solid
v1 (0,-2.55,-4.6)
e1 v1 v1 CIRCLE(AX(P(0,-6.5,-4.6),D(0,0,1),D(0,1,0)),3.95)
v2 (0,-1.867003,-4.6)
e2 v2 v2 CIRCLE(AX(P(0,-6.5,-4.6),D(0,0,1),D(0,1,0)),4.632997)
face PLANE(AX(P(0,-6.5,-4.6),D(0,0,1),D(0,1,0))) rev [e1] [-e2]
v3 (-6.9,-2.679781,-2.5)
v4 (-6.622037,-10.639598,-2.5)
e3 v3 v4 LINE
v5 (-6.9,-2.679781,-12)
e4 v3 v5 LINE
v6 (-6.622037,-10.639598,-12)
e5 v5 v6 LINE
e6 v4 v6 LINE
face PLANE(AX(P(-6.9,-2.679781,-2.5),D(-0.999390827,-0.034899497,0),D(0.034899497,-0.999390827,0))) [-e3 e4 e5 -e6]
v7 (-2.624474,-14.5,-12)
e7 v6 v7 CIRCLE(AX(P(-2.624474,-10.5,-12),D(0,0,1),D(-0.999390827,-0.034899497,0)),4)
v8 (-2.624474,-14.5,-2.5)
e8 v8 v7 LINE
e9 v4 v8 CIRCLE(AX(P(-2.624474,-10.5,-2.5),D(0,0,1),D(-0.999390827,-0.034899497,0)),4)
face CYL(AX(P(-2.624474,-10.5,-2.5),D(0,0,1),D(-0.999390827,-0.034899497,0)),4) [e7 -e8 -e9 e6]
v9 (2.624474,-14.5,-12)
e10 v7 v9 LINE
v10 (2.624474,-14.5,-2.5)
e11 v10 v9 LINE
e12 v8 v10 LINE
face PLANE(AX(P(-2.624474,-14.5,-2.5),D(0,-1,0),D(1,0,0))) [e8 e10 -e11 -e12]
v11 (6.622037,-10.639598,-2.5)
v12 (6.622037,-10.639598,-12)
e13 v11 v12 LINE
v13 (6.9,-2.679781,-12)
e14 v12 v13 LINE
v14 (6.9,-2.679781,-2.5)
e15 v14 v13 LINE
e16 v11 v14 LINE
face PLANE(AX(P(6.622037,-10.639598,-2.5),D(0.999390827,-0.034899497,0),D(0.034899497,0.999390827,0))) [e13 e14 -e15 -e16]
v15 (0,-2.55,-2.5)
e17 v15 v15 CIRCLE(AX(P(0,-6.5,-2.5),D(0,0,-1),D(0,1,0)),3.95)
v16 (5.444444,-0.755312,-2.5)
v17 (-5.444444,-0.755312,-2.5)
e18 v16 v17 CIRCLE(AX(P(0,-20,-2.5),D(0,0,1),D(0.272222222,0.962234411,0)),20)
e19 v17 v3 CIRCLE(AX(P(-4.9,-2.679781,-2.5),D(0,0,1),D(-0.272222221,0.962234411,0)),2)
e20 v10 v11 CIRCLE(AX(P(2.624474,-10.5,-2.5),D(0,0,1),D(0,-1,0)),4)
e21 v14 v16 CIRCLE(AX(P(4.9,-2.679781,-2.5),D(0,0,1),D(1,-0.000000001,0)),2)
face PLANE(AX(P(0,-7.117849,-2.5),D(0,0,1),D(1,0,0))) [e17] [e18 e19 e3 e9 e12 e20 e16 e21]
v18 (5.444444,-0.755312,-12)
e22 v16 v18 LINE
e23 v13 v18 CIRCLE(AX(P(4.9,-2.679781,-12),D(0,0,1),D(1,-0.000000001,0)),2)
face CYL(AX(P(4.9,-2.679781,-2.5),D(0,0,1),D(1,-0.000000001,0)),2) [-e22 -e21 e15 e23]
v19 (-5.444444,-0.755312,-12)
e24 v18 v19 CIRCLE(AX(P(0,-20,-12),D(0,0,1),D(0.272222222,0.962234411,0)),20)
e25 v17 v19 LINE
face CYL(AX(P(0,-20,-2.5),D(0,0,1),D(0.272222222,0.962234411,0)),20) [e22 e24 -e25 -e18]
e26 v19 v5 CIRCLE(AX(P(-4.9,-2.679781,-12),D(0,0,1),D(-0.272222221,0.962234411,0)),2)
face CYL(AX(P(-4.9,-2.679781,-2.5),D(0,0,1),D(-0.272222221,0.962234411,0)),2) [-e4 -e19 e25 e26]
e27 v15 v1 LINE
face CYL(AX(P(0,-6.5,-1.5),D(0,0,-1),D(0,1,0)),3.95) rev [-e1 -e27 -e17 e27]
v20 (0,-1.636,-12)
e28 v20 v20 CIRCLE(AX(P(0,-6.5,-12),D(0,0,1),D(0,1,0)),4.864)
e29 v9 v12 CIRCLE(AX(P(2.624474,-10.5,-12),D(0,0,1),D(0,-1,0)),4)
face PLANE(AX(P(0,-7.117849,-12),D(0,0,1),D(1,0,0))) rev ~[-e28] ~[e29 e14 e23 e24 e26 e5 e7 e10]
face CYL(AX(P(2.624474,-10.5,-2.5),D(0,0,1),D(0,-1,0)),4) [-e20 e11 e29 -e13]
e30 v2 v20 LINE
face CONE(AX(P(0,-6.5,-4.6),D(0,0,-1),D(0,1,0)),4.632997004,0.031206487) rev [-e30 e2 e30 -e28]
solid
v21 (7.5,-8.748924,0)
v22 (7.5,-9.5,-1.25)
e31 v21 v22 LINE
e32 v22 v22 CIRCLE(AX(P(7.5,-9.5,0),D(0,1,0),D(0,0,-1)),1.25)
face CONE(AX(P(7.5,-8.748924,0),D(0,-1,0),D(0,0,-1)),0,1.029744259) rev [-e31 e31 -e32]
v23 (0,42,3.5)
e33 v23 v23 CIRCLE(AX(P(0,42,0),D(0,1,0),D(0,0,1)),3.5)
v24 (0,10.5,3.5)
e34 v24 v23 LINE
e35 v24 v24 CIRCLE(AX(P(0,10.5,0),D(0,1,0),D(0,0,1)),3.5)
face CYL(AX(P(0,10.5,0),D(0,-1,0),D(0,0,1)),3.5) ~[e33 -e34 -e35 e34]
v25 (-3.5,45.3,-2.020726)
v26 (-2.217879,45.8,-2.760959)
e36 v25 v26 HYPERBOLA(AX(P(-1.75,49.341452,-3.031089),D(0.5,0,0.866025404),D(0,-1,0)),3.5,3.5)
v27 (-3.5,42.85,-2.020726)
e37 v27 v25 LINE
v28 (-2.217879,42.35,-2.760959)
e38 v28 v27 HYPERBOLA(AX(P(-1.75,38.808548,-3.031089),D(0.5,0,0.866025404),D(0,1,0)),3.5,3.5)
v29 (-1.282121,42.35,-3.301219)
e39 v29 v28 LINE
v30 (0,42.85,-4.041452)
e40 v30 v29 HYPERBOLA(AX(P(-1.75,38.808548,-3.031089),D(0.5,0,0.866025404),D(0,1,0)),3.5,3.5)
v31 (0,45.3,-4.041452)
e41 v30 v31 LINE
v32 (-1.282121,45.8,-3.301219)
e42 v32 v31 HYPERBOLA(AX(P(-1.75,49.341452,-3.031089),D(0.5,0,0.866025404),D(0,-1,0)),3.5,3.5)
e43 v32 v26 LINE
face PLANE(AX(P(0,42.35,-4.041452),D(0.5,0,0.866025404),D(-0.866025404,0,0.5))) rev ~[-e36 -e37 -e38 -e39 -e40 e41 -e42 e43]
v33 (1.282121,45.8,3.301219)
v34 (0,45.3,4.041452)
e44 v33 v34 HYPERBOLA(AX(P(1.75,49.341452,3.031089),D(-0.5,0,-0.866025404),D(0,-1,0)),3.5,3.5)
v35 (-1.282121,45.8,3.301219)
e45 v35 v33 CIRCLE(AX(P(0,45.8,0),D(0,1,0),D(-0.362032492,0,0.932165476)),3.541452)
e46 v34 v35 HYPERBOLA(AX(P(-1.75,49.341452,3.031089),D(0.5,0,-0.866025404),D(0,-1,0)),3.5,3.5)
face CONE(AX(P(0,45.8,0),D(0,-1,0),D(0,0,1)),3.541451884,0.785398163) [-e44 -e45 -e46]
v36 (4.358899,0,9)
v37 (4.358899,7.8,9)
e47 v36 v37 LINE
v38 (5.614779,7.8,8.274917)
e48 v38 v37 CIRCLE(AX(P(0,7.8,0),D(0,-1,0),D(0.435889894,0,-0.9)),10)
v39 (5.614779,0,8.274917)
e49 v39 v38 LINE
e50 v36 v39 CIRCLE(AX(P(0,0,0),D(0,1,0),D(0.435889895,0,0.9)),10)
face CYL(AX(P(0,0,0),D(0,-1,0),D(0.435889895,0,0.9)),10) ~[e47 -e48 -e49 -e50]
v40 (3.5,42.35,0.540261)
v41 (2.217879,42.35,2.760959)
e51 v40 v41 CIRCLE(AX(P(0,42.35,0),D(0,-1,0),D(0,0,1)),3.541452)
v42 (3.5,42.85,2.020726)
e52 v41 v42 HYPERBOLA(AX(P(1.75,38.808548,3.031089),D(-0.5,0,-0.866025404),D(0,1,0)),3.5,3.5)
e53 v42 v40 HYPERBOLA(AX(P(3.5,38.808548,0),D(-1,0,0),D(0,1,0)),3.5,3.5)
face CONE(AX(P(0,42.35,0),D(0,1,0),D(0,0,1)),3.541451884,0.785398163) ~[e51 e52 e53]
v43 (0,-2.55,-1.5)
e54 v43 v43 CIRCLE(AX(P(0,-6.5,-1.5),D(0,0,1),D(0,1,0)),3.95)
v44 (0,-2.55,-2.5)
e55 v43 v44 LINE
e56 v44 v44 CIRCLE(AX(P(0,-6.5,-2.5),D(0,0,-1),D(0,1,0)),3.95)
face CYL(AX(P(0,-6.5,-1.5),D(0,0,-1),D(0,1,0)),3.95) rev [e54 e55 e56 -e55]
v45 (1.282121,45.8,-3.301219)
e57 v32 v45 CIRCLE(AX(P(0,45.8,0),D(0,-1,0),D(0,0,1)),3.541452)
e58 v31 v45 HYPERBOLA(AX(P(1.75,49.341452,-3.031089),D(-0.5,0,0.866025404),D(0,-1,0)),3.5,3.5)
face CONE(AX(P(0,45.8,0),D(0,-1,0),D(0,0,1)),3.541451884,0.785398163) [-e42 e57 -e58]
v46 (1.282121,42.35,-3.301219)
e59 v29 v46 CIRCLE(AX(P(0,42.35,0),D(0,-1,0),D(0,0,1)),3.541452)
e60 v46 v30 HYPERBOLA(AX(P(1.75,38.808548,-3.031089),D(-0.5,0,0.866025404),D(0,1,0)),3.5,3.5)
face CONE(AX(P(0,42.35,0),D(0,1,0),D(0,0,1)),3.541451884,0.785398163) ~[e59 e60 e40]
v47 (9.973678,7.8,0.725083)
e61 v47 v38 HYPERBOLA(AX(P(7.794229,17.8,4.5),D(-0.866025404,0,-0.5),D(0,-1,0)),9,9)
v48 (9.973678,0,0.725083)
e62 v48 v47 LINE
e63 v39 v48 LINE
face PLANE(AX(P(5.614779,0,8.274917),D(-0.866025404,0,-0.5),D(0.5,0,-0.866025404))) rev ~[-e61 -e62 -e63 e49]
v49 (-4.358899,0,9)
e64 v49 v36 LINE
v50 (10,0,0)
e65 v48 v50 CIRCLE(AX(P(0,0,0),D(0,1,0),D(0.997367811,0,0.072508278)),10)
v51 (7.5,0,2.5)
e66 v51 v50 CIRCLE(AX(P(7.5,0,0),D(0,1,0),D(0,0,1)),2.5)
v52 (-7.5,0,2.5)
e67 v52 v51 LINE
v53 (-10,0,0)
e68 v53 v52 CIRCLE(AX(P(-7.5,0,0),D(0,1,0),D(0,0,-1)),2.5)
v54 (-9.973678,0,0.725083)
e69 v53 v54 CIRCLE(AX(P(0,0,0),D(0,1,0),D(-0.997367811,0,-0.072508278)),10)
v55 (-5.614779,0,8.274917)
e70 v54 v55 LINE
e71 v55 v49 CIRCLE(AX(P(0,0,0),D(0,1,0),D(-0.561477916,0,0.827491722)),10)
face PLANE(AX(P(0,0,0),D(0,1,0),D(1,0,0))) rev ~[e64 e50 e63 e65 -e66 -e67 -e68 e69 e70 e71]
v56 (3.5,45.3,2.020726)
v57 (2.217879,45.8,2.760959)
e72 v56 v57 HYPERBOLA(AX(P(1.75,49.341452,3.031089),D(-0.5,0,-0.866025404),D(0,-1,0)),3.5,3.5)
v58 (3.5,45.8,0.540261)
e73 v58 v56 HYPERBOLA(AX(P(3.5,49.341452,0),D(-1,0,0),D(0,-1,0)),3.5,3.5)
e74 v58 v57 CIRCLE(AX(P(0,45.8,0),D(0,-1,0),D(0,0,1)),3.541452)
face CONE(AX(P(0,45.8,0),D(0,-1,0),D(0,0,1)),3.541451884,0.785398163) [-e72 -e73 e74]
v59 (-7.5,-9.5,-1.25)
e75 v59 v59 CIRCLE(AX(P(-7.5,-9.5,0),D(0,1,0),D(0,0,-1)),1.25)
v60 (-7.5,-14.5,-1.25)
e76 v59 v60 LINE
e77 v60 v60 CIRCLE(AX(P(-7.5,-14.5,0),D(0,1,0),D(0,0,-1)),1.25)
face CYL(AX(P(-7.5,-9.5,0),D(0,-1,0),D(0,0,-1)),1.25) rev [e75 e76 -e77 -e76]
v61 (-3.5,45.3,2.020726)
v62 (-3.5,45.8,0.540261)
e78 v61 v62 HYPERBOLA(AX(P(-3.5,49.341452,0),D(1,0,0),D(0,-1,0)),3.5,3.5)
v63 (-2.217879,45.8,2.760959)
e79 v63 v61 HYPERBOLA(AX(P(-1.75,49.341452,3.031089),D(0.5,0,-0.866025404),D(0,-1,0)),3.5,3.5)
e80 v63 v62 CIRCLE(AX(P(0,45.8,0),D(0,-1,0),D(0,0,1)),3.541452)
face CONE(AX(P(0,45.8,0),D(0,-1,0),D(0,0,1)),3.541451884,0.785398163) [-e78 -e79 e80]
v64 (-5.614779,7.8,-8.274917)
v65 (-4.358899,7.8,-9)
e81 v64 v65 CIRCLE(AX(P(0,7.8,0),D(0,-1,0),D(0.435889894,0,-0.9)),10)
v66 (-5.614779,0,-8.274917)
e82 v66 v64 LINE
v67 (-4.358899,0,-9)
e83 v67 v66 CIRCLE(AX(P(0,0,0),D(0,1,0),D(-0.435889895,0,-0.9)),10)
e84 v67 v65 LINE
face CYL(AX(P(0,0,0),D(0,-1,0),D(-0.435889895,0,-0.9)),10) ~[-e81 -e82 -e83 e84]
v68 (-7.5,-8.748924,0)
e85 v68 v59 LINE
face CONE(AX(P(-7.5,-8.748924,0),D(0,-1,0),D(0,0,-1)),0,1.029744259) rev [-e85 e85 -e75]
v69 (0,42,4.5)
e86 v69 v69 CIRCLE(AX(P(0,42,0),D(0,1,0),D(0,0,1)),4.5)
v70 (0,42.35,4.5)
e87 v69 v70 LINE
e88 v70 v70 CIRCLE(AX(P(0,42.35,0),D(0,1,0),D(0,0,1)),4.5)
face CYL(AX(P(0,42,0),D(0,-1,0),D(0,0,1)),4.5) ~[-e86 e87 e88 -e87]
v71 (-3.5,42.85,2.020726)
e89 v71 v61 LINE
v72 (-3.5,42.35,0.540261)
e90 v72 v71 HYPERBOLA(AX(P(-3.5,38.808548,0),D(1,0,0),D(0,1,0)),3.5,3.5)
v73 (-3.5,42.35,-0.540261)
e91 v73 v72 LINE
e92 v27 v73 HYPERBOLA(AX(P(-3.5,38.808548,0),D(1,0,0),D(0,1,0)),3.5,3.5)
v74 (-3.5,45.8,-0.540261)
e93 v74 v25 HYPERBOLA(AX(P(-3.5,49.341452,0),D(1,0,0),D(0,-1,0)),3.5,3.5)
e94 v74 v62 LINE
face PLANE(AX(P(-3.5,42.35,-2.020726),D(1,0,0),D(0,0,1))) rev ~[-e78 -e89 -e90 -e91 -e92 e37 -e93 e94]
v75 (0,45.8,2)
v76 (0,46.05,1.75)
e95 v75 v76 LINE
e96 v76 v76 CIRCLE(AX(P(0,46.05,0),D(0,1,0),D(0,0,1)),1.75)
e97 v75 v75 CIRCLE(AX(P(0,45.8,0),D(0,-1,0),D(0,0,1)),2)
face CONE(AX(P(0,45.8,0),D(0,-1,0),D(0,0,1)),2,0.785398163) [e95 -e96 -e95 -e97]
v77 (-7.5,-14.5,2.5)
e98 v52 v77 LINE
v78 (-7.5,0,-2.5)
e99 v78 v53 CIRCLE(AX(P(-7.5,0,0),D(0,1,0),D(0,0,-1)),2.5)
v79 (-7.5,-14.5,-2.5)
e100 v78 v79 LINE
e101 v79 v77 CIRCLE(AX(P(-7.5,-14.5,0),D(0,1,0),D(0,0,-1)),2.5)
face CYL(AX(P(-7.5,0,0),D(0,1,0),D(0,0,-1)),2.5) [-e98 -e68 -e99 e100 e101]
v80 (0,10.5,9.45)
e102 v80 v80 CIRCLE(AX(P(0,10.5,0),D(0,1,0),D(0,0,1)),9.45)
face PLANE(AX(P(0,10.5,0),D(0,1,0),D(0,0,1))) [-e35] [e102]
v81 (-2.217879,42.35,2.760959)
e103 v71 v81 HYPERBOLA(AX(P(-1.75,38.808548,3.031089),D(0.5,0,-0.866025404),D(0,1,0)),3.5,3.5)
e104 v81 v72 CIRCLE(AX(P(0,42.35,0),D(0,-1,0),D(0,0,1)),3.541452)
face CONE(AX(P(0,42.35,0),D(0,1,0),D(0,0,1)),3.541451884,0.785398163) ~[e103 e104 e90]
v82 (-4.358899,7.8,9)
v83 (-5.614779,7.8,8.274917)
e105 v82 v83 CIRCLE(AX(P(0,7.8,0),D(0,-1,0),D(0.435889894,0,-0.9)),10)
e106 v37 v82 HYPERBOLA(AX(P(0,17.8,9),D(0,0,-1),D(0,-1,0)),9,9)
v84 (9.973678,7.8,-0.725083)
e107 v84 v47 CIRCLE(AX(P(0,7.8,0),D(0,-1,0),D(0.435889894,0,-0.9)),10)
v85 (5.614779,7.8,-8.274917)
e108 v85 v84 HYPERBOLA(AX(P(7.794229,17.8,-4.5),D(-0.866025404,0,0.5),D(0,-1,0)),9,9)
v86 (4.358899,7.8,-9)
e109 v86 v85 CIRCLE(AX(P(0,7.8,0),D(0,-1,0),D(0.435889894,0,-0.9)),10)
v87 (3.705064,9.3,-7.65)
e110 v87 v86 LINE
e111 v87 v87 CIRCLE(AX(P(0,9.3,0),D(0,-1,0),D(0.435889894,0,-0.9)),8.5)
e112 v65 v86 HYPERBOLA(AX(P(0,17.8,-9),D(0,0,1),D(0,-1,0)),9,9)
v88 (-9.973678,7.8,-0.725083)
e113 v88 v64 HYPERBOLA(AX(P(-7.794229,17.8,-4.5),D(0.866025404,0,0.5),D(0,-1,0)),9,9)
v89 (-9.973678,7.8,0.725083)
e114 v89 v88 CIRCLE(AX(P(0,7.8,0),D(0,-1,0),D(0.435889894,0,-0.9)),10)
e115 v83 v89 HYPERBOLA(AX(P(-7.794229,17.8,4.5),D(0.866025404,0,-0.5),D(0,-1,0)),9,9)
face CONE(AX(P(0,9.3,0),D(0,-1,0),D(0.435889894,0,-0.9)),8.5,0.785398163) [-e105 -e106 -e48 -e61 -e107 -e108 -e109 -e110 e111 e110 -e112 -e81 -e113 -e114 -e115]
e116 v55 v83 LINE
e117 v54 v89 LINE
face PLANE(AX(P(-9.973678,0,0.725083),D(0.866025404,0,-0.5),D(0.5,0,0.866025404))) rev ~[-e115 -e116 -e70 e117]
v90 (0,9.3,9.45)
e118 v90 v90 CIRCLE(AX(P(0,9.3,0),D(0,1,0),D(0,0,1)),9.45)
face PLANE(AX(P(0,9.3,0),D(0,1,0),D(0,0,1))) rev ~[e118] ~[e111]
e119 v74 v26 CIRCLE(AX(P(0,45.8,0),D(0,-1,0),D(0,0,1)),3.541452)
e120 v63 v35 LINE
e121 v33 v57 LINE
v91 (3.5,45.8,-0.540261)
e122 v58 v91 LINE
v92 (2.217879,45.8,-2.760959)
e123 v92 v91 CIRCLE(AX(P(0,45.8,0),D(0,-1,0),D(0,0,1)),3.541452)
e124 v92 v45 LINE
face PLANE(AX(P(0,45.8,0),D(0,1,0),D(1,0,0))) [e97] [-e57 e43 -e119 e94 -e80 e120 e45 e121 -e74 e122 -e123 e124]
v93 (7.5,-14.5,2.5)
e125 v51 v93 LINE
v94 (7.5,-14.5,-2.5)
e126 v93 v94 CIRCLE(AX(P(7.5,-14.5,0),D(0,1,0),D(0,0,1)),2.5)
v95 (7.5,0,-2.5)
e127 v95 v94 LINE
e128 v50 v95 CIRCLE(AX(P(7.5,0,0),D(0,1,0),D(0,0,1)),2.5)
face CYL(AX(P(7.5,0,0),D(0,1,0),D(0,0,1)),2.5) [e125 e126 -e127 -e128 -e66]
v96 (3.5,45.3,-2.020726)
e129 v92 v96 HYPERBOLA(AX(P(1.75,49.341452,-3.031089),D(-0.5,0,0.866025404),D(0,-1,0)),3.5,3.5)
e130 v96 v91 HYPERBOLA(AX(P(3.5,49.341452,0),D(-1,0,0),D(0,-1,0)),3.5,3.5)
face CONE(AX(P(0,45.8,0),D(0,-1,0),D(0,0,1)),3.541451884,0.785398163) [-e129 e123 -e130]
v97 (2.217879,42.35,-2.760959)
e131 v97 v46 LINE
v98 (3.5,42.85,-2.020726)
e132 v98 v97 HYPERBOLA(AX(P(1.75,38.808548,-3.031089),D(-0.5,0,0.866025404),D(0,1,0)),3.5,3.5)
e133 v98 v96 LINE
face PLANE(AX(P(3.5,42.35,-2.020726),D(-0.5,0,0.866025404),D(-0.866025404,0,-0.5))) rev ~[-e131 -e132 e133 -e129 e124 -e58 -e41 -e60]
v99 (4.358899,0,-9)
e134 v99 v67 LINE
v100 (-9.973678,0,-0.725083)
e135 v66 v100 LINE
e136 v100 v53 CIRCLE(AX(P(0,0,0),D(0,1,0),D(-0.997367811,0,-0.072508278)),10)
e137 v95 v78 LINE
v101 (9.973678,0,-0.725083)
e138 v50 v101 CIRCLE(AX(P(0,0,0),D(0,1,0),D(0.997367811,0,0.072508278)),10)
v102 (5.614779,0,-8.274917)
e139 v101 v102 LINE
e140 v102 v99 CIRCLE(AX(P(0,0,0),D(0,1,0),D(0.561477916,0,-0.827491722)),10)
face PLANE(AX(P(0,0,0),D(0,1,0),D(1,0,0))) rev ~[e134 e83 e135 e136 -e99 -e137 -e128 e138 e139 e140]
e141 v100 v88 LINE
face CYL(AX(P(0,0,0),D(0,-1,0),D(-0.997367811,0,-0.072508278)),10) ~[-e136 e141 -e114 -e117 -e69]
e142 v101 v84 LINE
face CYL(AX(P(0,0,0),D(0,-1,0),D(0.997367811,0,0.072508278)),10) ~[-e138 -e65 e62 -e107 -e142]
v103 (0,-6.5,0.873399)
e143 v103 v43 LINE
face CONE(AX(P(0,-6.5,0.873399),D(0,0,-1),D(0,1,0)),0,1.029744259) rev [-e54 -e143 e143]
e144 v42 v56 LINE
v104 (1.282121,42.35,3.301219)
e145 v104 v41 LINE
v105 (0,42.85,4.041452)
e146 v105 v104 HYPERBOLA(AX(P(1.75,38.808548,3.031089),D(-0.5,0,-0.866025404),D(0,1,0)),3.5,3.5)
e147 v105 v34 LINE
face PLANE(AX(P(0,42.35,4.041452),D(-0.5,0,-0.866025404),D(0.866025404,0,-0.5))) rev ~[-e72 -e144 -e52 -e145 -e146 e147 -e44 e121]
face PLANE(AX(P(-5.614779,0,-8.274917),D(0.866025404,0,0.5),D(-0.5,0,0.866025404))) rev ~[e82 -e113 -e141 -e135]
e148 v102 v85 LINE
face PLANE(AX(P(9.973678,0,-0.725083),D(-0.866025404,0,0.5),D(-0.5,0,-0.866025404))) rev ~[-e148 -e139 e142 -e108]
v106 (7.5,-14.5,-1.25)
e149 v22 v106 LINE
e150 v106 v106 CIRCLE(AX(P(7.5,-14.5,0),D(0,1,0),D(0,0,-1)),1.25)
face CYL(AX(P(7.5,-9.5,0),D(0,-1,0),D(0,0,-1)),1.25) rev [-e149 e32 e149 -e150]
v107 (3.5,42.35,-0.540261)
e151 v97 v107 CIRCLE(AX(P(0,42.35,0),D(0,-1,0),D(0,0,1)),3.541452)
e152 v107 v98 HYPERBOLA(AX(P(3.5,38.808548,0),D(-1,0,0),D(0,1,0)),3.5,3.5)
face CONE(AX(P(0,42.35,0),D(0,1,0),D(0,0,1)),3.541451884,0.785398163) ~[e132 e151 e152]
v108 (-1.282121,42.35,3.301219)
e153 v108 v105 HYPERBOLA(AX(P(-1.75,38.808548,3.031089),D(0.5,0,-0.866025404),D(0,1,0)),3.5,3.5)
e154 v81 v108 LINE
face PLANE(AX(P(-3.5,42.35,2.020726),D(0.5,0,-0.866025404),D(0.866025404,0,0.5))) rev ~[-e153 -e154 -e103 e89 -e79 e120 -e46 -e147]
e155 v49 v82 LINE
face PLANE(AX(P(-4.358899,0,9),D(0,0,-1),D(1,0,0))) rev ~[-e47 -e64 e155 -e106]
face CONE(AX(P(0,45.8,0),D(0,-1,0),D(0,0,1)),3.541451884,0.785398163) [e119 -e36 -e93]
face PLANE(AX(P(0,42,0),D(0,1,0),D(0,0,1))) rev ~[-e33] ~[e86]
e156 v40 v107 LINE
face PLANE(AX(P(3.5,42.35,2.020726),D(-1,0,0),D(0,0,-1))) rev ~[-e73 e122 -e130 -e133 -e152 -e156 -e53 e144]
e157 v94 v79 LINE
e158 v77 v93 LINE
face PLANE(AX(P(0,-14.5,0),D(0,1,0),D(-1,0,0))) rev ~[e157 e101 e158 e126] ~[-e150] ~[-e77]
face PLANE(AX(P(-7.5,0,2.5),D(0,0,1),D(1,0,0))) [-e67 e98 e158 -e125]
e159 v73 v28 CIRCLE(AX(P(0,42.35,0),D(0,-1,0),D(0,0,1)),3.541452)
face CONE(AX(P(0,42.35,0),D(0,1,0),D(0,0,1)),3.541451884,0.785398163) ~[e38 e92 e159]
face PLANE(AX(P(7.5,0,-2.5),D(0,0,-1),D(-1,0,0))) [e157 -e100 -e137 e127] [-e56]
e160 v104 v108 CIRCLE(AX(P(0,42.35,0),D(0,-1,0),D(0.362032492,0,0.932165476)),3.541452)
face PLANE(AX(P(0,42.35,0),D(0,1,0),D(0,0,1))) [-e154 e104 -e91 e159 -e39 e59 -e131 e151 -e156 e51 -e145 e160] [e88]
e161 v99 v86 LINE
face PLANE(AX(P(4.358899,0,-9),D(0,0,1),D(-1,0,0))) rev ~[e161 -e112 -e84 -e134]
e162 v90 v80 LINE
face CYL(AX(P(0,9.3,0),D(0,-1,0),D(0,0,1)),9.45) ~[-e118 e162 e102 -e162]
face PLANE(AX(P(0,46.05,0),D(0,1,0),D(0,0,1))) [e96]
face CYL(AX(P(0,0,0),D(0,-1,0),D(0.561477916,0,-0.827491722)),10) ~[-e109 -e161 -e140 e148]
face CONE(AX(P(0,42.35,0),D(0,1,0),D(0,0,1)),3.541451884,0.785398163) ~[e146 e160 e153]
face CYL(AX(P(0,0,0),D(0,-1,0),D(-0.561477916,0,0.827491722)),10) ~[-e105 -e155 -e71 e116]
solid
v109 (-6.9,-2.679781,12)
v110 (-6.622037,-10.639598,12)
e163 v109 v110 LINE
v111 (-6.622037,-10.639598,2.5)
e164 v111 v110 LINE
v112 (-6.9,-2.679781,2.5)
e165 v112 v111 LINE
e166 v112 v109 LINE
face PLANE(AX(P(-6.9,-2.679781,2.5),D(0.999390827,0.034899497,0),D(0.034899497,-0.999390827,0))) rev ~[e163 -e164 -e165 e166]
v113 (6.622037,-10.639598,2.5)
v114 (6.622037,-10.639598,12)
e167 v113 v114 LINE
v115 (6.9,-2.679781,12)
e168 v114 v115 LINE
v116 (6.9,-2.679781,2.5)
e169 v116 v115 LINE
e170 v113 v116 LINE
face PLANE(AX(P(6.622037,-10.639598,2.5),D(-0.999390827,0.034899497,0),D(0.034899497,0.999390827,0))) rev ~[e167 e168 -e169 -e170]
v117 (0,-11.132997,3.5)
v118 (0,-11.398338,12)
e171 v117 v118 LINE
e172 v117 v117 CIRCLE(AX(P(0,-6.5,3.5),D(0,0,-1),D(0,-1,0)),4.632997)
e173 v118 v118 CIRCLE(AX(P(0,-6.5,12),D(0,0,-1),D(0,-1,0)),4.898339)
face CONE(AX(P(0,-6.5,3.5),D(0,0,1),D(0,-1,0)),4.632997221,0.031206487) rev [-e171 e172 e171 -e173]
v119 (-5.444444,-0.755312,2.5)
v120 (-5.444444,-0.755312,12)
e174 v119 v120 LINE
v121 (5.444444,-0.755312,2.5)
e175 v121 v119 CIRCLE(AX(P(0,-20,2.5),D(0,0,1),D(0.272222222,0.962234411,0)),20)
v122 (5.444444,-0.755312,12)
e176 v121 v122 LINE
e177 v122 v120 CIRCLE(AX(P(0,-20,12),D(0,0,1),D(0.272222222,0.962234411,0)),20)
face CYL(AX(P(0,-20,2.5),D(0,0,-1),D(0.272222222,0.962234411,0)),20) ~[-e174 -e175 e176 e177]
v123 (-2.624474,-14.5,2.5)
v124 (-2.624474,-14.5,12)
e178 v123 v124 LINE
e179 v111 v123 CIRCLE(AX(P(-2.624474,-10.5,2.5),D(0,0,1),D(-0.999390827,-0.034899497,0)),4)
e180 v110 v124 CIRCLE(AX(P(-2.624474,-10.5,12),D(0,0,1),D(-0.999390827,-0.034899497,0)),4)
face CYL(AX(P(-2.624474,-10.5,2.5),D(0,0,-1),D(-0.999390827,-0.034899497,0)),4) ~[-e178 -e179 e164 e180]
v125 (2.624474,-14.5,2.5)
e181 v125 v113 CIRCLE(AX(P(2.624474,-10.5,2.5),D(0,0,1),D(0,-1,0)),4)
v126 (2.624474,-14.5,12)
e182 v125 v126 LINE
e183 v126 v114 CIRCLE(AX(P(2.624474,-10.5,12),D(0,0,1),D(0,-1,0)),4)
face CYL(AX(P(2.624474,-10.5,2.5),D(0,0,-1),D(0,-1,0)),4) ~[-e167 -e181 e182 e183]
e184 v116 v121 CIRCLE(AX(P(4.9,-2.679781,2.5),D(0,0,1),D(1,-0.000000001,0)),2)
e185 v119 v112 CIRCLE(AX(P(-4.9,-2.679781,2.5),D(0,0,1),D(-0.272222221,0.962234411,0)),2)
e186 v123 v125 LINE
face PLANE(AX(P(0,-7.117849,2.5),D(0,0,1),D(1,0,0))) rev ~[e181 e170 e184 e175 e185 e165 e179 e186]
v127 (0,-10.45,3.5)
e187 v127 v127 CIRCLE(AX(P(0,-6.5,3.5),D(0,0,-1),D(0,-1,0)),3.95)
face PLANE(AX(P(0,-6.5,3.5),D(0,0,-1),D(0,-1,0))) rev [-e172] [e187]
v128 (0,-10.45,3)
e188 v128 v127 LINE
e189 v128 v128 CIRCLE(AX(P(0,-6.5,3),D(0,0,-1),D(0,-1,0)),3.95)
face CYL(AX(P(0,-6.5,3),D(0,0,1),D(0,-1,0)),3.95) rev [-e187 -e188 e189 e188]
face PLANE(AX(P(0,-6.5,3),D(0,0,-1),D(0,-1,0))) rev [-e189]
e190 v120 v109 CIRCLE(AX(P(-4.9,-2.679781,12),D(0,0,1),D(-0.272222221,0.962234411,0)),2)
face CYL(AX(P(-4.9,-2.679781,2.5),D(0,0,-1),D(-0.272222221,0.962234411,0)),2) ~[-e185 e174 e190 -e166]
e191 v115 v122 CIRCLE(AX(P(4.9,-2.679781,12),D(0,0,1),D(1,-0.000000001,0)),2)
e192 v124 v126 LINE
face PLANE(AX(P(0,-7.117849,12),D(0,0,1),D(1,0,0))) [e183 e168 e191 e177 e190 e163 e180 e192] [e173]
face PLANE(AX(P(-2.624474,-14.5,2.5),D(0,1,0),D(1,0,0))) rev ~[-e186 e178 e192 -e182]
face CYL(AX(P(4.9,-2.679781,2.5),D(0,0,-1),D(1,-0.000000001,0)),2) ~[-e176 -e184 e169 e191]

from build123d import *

# Parameters (mm, degrees)
BASE_NUT_EXTRUDE_DEPTH       = 9.3
SKETCH3_R                    = 9.45
COIL_BASE_DEPTH              = 1.2
SKETCH4_R                    = 3.5
INNER_CYLINDER_DEPTH         = 31.5
SKETCH5_R                    = 4.5
WASHER_DEPTH                 = 0.35
SKETCH6_R                    = 2
MOUNTING_THREAD_DEPTH        = 3.7
THREAD_CHAMFER_SIZE          = 0.25
PORT_BASE_DEPTH              = 14.5
IN_PORT_BODY_DEPTH           = 9.5
OUT_PORT_BODY_DEPTH          = 9.5
M3_MOUNTING_HOLES_AT_2_COUNT = 2
M3_MOUNTING_HOLES_AT_2_PITCH = 15
SKETCH21_R                   = 2
HEX_NUT_DEPTH                = 3.45


with BuildPart() as part:
    # Sketch1 → Base Nut Extrude (new body)
    with BuildSketch(Plane(origin=(0, 0, 0), x_dir=(1, 0, 0), z_dir=(0, 1, 0))):
        with BuildLine():
            Line((-9.973678106, -0.725082782), (-5.614779162, -8.274917218))
            ThreePointArc((-5.614779162, -8.274917218), (-5, -8.660254038), (-4.358898944, -9))
            Line((-4.358898944, -9), (4.358898944, -9))
            ThreePointArc((4.358898944, -9), (5, -8.660254038), (5.614779162, -8.274917218))
            Line((5.614779162, -8.274917218), (9.973678106, -0.725082782))
            ThreePointArc((9.973678106, -0.725082782), (10, 0), (9.973678106, 0.725082782))
            Line((9.973678106, 0.725082782), (5.614779162, 8.274917218))
            ThreePointArc((5.614779162, 8.274917218), (5, 8.660254038), (4.358898944, 9))
            Line((4.358898944, 9), (-4.358898944, 9))
            ThreePointArc((-4.358898944, 9), (-5, 8.660254038), (-5.614779162, 8.274917218))
            Line((-5.614779162, 8.274917218), (-9.973678106, 0.725082782))
            ThreePointArc((-9.973678106, 0.725082782), (-10, 0), (-9.973678106, -0.725082782))
        make_face()
    extrude(amount=BASE_NUT_EXTRUDE_DEPTH)

    # Sketch2 → Nut Detail (revolve, cut)
    with BuildSketch(Plane.XY, mode=Mode.PRIVATE) as nut_detail_sk:
        Polygon((-9.973678106, 9.3), (-8.5, 9.3), (-10, 7.8), (-10, 9.3), align=None)
    revolve(nut_detail_sk.sketch.rotate(Axis((0, 49.0775, 0), (0, -1, 0)), 115.841932763), axis=Axis((0, 49.0775, 0), (0, -1, 0)), mode=Mode.SUBTRACT)

    # Sketch3 → Coil Base (add)
    with BuildSketch(Plane(origin=(0, 9.3, 0), x_dir=(1, 0, 0), z_dir=(0, 1, 0))):
        with Locations(Location((0, 0, 0), (0, 0, 270))):
            Circle(SKETCH3_R)
    extrude(amount=COIL_BASE_DEPTH)

    # Sketch4 → Inner Cylinder (add)
    with BuildSketch(Plane(origin=(0, 10.5, 0), x_dir=(1, 0, 0), z_dir=(0, 1, 0))):
        with Locations(Location((0, 0, 0), (0, 0, 270))):
            Circle(SKETCH4_R)
    extrude(amount=INNER_CYLINDER_DEPTH)

    # Sketch5 → Washer (add)
    with BuildSketch(Plane(origin=(0, 42, 0), x_dir=(1, 0, 0), z_dir=(0, 1, 0))):
        with Locations(Location((0, 0, 0), (0, 0, 270))):
            Circle(SKETCH5_R)
    extrude(amount=WASHER_DEPTH)

    # Sketch6 → Mounting Thread (add)
    with BuildSketch(Plane(origin=(0, 42.35, 0), x_dir=(1, 0, 0), z_dir=(0, 1, 0))):
        with Locations(Location((0, 0, 0), (0, 0, 270))):
            Circle(SKETCH6_R)
    extrude(amount=MOUNTING_THREAD_DEPTH)

    # Thread Chamfer
    thread_chamfer_edges = [part.edges().sort_by_distance(p)[0] for p in [
        (0, 46.05, -2),
    ]]
    chamfer(thread_chamfer_edges, length=THREAD_CHAMFER_SIZE)

    # Sketch7 → Port Base (add)
    with BuildSketch(Plane.XZ):
        with BuildLine():
            Line((-7.5, 2.5), (7.5, 2.5))
            ThreePointArc((7.5, 2.5), (10, 0), (7.5, -2.5))
            Line((7.5, -2.5), (-7.5, -2.5))
            ThreePointArc((-7.5, -2.5), (-10, 0), (-7.5, 2.5))
        make_face()
    extrude(amount=PORT_BASE_DEPTH)


with BuildPart() as body_2:
    # Sketch8 → In Port Body (new body)
    with BuildSketch(Plane.XY.offset(2.5)):
        with BuildLine():
            Line((-6.9, -2.679780602), (-6.622037052, -10.639597987))
            ThreePointArc((-6.622037052, -10.639597987), (-5.403107226, -13.377359201), (-2.624473744, -14.5))
            Line((-2.624473744, -14.5), (2.624473744, -14.5))
            ThreePointArc((2.624473744, -14.5), (5.403107226, -13.377359201), (6.622037052, -10.639597987))
            Line((6.622037052, -10.639597987), (6.9, -2.679780602))
            ThreePointArc((6.9, -2.679780602), (6.495131482, -1.47331653), (5.444444444, -0.75531178))
            ThreePointArc((5.444444444, -0.75531178), (0, 0), (-5.444444444, -0.75531178))
            ThreePointArc((-5.444444444, -0.75531178), (-6.495131482, -1.47331653), (-6.9, -2.679780602))
        make_face()
    extrude(amount=IN_PORT_BODY_DEPTH)

    # Sketch10 → 1/8 Rc In Port (revolve, cut)
    with BuildSketch(Plane(origin=(0, -6.5, 12), x_dir=(0, -1, 0), z_dir=(1, 0, 0))):
        Polygon((0, 0), (0, 9), (3.95, 9), (3.95, 8.5), (4.632997221, 8.5), (4.8983385, 0), align=None)
    revolve(axis=Axis((0, -6.5, 18.35), (0, 0, -1)), mode=Mode.SUBTRACT)


with BuildPart() as body_3:
    # Sketch9 → Out Port Body (new body)
    with BuildSketch(Plane(origin=(0, 0, -2.5), x_dir=(-1, 0, 0), z_dir=(0, 0, -1))):
        with BuildLine():
            Line((6.9, -2.679780602), (6.622037052, -10.639597987))
            ThreePointArc((6.622037052, -10.639597987), (5.403107226, -13.377359201), (2.624473744, -14.5))
            Line((2.624473744, -14.5), (-2.624473744, -14.5))
            ThreePointArc((-2.624473744, -14.5), (-5.403107226, -13.377359201), (-6.622037052, -10.639597987))
            Line((-6.622037052, -10.639597987), (-6.9, -2.679780602))
            ThreePointArc((-6.9, -2.679780602), (-6.495131482, -1.47331653), (-5.444444444, -0.75531178))
            ThreePointArc((-5.444444444, -0.75531178), (0, 0), (5.444444444, -0.75531178))
            ThreePointArc((5.444444444, -0.75531178), (6.495131482, -1.47331653), (6.9, -2.679780602))
        make_face()
    extrude(amount=OUT_PORT_BODY_DEPTH)


with BuildPart() as f_1_8_rc_out_port_tool:
    # Sketch12 → 1/8 Rc Out Port (revolve)
    with BuildSketch(Plane(origin=(0, -6.5, -12), x_dir=(0, 1, 0), z_dir=(1, 0, 0))):
        Polygon((0, 0), (0, 12.873399445), (3.95, 10.5), (3.95, 7.4), (4.632997004, 7.4), (4.864, 0), align=None)
    revolve(axis=Axis((0, -6.5, -18.35), (0, 0, 1)))


with BuildPart() as part_1:
    add(part.part)

    # 1/8 Rc Out Port: cut by f_1_8_rc_out_port_tool
    add(f_1_8_rc_out_port_tool.part, mode=Mode.SUBTRACT)

    # Sketch14 → M3 Mounting Holes (revolve, cut)
    with BuildSketch(Plane(origin=(7.5, -14.5, 0), x_dir=(0, 0, -1), z_dir=(1, 0, 0))):
        Polygon((0, 0), (0, 5.751075774), (1.25, 5), (1.25, 0), align=None)
    m3_mounting_holes = revolve(axis=Axis((7.5, -20.85, 0), (0, 1, 0)), mode=Mode.SUBTRACT)

    # M3 Mounting Holes at 2: M3 Mounting Holes ×2
    with Locations(*[(-i * M3_MOUNTING_HOLES_AT_2_PITCH, 0, 0) for i in range(1, M3_MOUNTING_HOLES_AT_2_COUNT)]):
        add(m3_mounting_holes, mode=Mode.SUBTRACT)

    # Sketch21 → Hex Nut (add)
    with BuildSketch(Plane(origin=(0, 42.35, 0), x_dir=(1, 0, 0), z_dir=(0, 1, 0))):
        Polygon((-3.5, 2.020725942), (-3.5, -2.020725942), (0, -4.041451884), (3.5, -2.020725942), (3.5, 2.020725942), (0, 4.041451884), align=None)
        Circle(SKETCH21_R, mode=Mode.SUBTRACT)
    extrude(amount=HEX_NUT_DEPTH)

    # Sketch23 → Hex Nut Detail (revolve, cut)
    with BuildSketch(Plane(origin=(0, 0, 0), x_dir=(0, 0, -1), z_dir=(1, 0, 0))):
        Polygon((-4.041451884, 42.35), (-3.541451884, 42.35), (-4.041451884, 42.85), align=None)
        Polygon((-4.041451884, 45.8), (-3.541451884, 45.8), (-4.041451884, 45.3), align=None)
    revolve(axis=Axis((0, 49.0775, 0), (0, -1, 0)), mode=Mode.SUBTRACT)


with BuildPart() as body_3_1:
    add(body_3.part)

    # 1/8 Rc Out Port: cut by f_1_8_rc_out_port_tool
    add(f_1_8_rc_out_port_tool.part, mode=Mode.SUBTRACT)


solid = Compound([body_2.part, part_1.part, body_3_1.part])
